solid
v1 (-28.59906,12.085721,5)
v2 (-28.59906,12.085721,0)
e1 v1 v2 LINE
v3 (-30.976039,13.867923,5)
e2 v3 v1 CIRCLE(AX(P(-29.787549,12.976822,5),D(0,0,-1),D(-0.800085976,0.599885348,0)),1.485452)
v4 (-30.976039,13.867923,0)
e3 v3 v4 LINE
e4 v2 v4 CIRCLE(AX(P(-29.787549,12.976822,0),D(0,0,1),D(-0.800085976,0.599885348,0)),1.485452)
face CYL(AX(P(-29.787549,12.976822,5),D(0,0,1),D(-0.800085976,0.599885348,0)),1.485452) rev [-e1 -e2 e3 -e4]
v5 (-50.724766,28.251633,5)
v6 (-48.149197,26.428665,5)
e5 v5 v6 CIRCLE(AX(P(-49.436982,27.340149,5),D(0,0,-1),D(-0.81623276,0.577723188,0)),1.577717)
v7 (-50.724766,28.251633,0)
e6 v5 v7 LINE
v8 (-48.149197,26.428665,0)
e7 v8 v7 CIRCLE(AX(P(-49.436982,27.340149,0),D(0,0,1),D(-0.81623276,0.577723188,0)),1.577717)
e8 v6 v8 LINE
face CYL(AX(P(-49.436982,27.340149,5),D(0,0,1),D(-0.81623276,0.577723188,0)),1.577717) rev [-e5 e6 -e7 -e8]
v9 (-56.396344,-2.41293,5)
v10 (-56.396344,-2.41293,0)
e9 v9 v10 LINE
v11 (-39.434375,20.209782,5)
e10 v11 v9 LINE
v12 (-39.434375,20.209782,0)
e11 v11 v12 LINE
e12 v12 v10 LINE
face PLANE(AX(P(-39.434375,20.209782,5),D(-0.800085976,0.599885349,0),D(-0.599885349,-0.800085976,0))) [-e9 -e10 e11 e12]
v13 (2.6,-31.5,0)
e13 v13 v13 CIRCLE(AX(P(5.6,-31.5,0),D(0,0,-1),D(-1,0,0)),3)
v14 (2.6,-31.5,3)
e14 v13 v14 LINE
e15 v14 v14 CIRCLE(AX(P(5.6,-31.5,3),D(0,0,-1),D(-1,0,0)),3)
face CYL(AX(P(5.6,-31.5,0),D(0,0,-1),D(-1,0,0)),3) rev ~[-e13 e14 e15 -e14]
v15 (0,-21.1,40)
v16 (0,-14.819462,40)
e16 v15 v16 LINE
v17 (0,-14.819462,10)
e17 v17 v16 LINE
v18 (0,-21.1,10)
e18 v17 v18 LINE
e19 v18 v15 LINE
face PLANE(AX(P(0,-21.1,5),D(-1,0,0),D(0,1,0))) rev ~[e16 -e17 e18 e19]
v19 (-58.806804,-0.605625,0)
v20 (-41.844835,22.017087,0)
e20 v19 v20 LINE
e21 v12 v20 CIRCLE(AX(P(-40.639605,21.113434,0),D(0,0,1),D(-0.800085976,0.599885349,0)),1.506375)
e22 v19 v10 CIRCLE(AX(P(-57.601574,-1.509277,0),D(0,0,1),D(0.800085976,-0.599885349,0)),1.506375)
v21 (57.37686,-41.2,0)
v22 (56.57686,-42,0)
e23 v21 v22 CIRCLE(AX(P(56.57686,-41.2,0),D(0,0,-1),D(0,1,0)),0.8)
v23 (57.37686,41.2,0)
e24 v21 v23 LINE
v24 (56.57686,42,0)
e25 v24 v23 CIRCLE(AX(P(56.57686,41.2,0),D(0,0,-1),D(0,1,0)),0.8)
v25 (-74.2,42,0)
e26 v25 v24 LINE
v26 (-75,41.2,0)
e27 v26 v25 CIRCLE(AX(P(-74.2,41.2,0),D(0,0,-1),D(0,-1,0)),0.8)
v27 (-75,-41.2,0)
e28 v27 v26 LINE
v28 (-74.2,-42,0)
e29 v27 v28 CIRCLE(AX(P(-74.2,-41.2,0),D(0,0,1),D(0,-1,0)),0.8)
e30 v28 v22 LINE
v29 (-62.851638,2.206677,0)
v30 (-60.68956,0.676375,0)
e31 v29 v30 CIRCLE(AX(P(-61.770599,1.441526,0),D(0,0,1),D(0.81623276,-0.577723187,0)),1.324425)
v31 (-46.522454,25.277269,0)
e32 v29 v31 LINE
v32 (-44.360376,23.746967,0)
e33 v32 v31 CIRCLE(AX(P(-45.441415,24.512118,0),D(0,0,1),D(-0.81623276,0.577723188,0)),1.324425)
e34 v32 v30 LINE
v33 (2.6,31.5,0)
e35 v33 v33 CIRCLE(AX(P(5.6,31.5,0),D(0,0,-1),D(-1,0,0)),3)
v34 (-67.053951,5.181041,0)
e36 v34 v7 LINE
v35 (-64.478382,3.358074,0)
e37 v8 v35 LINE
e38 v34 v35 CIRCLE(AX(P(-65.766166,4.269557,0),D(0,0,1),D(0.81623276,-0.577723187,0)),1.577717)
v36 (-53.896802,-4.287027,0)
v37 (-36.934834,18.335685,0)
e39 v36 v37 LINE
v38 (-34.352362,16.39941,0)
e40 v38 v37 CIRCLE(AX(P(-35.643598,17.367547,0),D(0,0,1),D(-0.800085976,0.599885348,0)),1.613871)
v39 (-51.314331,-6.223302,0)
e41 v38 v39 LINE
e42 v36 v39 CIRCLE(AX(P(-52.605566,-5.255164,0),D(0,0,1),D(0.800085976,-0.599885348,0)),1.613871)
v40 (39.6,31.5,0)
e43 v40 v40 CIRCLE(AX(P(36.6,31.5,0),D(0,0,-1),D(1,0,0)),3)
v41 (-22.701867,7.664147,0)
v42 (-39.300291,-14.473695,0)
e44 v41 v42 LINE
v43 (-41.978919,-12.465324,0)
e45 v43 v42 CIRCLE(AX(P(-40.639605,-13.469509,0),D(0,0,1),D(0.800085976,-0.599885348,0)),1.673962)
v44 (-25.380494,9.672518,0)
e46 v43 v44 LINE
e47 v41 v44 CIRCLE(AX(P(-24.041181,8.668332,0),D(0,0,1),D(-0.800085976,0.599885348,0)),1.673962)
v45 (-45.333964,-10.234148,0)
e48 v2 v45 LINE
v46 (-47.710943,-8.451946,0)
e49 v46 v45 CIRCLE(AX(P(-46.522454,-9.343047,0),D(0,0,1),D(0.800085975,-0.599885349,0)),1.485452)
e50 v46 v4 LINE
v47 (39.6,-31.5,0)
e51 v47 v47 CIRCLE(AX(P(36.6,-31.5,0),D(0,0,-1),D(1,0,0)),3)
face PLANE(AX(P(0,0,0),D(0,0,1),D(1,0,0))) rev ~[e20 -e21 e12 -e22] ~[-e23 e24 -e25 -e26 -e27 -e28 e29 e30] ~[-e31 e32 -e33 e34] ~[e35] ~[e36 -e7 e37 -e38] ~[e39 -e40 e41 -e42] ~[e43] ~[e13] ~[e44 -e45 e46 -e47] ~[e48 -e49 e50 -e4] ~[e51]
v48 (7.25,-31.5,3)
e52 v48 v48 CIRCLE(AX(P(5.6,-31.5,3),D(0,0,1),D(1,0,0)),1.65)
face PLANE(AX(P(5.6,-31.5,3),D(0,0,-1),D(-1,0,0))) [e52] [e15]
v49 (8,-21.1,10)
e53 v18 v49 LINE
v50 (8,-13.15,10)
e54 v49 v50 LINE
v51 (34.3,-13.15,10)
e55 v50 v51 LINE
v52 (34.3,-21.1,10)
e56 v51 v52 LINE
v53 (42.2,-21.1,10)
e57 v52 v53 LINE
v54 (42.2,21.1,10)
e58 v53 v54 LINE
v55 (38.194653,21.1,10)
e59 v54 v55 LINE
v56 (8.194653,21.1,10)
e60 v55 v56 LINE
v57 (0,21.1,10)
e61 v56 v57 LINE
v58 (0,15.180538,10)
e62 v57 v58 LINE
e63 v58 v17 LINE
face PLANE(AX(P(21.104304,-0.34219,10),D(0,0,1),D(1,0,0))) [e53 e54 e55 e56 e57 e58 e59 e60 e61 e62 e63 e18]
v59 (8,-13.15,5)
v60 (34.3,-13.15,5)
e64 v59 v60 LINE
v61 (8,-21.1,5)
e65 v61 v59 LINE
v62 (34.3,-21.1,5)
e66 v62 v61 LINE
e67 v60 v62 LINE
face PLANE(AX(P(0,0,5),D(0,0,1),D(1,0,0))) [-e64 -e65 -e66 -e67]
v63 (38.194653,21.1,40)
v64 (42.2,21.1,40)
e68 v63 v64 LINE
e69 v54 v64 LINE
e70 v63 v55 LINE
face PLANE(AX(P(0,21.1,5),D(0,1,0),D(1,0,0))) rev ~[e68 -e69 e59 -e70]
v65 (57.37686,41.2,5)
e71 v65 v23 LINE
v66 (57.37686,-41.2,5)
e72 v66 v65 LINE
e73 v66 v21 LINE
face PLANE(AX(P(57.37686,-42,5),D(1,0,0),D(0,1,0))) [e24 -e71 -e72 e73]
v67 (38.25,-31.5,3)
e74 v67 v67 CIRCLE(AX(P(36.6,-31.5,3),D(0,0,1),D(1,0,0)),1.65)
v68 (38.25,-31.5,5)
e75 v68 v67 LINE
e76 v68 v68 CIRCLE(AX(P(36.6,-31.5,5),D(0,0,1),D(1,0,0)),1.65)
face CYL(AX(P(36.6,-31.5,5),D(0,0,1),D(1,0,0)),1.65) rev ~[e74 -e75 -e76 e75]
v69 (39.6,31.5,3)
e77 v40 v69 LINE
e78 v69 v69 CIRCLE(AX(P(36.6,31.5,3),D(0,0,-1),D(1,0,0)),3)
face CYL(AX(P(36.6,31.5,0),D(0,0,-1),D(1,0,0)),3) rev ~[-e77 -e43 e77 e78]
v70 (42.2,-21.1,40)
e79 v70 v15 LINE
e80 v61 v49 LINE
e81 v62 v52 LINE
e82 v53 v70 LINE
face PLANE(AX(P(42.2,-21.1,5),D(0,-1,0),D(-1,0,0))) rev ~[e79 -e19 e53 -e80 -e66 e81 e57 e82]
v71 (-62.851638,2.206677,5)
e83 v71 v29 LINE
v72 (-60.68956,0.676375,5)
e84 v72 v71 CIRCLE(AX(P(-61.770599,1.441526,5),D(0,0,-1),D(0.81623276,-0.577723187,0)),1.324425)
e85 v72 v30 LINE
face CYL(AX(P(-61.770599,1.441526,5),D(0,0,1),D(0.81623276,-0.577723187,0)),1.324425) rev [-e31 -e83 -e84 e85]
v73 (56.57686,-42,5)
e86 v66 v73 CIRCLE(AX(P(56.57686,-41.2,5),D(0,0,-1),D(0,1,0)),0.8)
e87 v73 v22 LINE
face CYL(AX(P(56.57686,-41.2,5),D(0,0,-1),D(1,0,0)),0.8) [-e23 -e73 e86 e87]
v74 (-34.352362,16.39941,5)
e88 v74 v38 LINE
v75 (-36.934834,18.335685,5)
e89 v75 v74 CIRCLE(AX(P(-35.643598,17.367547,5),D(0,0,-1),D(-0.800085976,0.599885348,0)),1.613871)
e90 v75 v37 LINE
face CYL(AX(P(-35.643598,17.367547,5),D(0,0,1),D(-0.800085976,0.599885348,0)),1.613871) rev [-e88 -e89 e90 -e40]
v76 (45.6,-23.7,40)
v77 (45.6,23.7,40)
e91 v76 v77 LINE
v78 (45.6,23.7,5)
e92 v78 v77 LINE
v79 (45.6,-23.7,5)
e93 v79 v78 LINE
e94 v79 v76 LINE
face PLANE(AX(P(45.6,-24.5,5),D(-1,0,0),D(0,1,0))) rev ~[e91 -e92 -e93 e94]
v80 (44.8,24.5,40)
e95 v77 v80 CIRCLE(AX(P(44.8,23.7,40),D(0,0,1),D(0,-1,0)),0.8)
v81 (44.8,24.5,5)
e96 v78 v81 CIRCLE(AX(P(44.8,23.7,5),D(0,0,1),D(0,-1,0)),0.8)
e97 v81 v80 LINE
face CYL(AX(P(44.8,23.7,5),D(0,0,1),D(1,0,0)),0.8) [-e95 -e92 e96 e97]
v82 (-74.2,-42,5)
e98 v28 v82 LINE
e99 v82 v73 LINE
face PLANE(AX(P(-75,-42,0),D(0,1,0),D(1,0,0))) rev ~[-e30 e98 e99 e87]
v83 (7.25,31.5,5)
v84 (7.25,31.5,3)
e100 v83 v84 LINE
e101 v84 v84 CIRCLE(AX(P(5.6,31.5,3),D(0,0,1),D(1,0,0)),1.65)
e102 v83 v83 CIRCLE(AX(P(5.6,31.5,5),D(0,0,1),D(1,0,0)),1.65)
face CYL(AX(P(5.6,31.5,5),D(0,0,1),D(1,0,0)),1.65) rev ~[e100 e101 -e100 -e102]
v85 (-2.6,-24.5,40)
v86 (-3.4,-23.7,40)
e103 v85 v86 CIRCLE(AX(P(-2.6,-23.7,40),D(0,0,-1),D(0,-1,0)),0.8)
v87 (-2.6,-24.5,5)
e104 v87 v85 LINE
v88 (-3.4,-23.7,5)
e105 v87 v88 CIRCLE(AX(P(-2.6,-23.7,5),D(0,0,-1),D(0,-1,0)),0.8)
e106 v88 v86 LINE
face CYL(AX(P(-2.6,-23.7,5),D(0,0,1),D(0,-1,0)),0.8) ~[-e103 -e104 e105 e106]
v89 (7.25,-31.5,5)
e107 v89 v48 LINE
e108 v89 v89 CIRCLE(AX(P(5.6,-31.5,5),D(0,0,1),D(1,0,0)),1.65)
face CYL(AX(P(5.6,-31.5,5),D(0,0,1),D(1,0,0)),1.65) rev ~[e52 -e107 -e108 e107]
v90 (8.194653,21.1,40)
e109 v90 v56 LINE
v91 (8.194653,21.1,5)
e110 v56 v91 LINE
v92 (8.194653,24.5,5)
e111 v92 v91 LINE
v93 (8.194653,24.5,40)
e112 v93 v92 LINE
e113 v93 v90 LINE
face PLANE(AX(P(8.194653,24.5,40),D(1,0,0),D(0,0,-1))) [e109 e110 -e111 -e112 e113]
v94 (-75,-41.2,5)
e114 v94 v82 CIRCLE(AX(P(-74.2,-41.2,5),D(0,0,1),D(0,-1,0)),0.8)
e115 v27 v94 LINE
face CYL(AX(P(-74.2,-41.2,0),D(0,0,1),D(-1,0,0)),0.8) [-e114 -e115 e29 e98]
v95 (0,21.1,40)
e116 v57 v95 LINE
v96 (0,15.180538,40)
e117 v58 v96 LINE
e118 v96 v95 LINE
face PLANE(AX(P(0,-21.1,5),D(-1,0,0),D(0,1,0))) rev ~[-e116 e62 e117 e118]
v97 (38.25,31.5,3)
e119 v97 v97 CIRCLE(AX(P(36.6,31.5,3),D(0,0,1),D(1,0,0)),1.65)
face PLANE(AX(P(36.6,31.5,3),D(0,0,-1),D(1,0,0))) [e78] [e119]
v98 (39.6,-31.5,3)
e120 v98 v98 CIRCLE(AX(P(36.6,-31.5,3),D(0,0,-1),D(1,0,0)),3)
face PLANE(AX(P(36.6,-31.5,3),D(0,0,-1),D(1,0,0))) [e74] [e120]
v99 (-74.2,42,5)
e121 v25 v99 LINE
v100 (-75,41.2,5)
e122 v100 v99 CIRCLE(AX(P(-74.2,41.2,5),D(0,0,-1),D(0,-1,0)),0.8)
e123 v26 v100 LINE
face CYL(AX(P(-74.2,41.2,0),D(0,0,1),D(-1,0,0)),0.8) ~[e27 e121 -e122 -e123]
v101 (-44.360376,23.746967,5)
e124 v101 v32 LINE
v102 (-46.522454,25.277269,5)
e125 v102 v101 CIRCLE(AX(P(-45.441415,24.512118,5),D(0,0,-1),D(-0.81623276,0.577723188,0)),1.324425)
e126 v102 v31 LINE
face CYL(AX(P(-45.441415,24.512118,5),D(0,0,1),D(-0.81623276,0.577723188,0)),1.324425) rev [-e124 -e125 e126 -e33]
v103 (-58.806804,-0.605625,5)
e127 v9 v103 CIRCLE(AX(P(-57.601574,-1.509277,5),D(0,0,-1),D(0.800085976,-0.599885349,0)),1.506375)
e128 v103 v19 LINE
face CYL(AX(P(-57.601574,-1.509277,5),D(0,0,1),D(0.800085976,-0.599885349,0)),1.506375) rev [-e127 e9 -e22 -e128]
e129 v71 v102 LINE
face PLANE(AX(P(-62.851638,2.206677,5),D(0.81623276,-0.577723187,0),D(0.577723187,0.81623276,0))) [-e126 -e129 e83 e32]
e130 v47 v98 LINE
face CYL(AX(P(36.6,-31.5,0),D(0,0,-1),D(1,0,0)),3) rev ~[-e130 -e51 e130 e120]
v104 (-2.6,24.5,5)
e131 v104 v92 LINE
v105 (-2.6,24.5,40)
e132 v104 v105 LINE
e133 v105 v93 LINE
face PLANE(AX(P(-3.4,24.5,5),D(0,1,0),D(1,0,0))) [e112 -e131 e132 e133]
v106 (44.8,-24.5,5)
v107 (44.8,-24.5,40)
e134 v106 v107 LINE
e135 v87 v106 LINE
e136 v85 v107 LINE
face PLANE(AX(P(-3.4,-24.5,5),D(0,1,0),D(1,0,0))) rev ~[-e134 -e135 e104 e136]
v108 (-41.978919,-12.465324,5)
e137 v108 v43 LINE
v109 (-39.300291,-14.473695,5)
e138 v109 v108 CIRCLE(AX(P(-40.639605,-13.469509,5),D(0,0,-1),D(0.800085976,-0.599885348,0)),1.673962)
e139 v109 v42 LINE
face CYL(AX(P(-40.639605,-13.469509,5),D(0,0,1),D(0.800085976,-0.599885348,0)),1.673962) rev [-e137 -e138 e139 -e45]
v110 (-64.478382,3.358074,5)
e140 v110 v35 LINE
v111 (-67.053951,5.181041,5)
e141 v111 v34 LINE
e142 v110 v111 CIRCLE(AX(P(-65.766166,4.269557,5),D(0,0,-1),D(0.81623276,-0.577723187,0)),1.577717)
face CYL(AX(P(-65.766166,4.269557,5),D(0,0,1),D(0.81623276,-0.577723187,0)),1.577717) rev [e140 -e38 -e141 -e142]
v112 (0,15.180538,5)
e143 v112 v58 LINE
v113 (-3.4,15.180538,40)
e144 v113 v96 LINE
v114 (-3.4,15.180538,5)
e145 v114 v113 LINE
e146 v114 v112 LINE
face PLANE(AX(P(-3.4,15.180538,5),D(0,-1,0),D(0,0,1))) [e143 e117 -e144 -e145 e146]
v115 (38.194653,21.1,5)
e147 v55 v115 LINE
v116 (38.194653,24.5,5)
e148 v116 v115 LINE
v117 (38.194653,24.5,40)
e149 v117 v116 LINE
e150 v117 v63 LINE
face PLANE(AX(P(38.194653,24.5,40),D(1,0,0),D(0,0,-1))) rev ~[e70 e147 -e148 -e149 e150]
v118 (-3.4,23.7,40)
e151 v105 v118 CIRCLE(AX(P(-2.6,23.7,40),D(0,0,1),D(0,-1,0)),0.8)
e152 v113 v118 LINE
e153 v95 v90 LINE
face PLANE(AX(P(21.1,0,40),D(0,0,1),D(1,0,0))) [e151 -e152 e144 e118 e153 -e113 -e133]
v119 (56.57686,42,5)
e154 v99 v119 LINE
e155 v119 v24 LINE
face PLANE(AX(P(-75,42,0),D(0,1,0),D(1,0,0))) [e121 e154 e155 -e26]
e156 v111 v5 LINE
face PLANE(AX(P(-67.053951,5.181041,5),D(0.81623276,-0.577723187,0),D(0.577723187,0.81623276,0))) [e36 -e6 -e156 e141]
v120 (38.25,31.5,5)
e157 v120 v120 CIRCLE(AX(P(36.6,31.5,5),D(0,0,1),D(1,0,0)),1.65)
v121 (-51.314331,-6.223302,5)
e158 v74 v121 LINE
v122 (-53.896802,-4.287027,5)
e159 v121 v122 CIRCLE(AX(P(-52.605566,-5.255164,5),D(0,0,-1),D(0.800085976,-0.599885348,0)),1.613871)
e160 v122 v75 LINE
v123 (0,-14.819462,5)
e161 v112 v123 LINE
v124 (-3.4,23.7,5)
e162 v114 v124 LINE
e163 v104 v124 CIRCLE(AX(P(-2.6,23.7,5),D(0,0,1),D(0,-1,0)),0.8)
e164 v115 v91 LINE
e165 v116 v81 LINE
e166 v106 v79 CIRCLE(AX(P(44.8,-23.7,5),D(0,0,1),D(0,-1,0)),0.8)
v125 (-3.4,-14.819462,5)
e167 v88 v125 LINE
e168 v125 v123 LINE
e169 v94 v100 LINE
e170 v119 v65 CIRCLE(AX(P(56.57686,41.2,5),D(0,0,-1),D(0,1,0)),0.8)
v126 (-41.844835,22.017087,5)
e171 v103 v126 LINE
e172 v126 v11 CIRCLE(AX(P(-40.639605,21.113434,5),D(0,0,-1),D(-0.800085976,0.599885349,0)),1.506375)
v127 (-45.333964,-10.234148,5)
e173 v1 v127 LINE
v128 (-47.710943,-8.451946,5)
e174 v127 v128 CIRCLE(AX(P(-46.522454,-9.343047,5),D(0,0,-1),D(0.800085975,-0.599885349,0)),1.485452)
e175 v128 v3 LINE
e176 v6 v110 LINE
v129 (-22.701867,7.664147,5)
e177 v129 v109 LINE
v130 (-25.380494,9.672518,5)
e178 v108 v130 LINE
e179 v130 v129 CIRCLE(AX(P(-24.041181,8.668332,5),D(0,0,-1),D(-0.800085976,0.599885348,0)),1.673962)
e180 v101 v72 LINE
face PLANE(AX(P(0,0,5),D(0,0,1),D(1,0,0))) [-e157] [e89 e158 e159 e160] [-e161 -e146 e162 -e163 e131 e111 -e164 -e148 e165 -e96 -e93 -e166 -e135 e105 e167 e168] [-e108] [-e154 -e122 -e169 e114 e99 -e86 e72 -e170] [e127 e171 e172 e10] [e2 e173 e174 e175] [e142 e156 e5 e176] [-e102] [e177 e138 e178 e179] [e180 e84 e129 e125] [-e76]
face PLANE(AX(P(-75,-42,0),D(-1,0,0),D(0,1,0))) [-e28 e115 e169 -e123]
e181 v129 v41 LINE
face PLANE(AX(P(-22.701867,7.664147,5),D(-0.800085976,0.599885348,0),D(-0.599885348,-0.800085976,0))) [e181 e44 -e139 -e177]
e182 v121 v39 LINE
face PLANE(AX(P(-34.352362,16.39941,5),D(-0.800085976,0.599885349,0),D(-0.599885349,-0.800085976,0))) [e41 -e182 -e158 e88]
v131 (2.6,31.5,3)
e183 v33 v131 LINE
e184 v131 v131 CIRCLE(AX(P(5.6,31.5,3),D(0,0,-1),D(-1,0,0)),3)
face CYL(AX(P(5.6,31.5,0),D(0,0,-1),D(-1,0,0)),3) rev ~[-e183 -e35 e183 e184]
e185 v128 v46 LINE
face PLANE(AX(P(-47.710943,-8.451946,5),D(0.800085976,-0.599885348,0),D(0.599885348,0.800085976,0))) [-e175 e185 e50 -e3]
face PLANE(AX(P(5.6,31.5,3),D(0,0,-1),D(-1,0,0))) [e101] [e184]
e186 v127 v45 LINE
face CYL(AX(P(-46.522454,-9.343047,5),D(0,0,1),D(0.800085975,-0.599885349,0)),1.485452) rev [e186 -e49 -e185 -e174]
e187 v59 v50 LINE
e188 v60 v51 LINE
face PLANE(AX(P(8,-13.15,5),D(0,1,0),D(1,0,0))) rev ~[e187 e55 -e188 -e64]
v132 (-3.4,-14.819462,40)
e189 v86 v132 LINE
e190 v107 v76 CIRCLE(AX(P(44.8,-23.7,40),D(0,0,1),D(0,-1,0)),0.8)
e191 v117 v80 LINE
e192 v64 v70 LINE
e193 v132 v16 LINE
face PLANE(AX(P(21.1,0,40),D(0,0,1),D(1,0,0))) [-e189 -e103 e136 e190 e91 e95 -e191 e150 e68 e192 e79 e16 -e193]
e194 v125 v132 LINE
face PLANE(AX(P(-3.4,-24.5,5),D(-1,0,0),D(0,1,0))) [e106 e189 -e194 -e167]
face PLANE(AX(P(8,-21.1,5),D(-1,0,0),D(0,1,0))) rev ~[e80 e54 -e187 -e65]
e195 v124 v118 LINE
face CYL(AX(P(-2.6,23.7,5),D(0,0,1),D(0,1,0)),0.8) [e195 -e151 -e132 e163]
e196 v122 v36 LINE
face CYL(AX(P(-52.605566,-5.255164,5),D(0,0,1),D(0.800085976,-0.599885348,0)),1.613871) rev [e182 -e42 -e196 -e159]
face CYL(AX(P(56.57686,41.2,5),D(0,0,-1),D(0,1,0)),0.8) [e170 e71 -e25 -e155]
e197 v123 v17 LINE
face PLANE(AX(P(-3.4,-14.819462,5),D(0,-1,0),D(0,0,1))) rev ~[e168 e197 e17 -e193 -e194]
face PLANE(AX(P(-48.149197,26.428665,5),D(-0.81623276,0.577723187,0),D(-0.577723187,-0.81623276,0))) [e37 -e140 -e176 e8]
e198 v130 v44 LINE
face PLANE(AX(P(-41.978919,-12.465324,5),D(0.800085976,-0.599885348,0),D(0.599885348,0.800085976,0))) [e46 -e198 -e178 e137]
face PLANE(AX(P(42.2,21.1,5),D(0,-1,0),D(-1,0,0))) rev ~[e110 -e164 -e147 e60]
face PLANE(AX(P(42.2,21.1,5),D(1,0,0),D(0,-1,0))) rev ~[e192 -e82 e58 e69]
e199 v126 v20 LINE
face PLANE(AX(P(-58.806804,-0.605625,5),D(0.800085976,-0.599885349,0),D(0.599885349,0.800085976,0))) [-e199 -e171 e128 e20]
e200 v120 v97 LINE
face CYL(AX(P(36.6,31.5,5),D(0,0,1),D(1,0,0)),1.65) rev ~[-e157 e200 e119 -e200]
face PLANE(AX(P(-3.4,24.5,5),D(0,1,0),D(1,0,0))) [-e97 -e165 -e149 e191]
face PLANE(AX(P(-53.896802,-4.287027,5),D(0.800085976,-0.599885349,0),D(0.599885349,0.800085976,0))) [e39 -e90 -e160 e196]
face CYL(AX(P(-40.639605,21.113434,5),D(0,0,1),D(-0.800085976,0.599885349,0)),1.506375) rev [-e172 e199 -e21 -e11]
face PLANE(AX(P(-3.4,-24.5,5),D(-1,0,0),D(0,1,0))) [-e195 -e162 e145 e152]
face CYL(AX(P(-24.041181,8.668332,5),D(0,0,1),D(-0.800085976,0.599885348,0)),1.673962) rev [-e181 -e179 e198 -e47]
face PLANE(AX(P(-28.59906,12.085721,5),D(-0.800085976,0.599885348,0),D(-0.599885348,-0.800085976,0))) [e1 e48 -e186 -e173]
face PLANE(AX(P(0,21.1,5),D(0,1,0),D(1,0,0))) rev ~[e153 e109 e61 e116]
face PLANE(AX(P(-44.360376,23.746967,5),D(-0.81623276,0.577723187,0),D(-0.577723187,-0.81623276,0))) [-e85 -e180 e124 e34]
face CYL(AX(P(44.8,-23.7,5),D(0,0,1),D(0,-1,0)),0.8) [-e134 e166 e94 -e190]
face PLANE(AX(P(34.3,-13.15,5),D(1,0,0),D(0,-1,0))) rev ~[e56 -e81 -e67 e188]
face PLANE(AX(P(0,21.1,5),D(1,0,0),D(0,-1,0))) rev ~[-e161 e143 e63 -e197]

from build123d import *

# Parameters (mm, degrees)
SKETCH_1_W          = 150
SKETCH_1_H          = 84
EXTRUDE_1_DEPTH     = 5
SKETCH_2_W          = 49
SKETCH_2_H          = 49
EXTRUDE_2_DEPTH     = 35
SKETCH_3_W          = 35
SKETCH_3_H          = 30
CUT_EXTRUDE_1_DEPTH = 21
SKETCH_4_W          = 30
SKETCH_4_H          = 35
CUT_EXTRUDE_2_DEPTH = 21
FILLET_1_R          = 0.8
CUT_EXTRUDE_3_DEPTH = 21
SKETCH_6_W          = 27.415053397
SKETCH_6_H          = 84
CUT_EXTRUDE_4_DEPTH = 21
FILLET_2_R          = 0.8
EXTRUDE_5_DEPTH     = 5
SKETCH_12_R         = 1.65
CUT_EXTRUDE_5_DEPTH = 10
SKETCH_13_R         = 3
CUT_EXTRUDE_6_DEPTH = 3


with BuildPart() as part:
    # 草图1 → 凸台-拉伸1 (new body)
    with BuildSketch(Plane.XY):
        Rectangle(SKETCH_1_W, SKETCH_1_H)
    extrude(amount=EXTRUDE_1_DEPTH)

    # 草图2 → 凸台-拉伸2 (add)
    with BuildSketch(Plane.XY.offset(5)):
        with Locations((21.1, 0)):
            Rectangle(SKETCH_2_W, SKETCH_2_H)
        Polygon((0, 0), (0, 21.1), (42.2, 21.1), (42.2, -21.1), (0, -21.1), align=None, mode=Mode.SUBTRACT)
    extrude(amount=EXTRUDE_2_DEPTH)

    # 草图3 → 切除-拉伸1 (cut)
    with BuildSketch(Plane.ZY.offset(3.4)):
        with Locations((22.5, 0.18053777)):
            Rectangle(SKETCH_3_W, SKETCH_3_H)
    extrude(amount=-CUT_EXTRUDE_1_DEPTH, mode=Mode.SUBTRACT)

    # 草图4 → 切除-拉伸2 (cut)
    with BuildSketch(Plane(origin=(0, 24.5, 0), x_dir=(1, 0, 0), z_dir=(0, 1, 0))):
        with Locations((23.194652979, -22.5)):
            Rectangle(SKETCH_4_W, SKETCH_4_H)
    extrude(amount=-CUT_EXTRUDE_2_DEPTH, mode=Mode.SUBTRACT)

    # 圆角1
    fillet_1_edges = [part.edges().sort_by_distance(p)[0] for p in [
        (45.6, -24.5, 22.5),
        (45.6, 24.5, 22.5),
        (-3.4, 24.5, 22.5),
        (-3.4, -24.5, 22.5),
        (75, -42, 2.5),
        (-75, -42, 2.5),
        (-75, 42, 2.5),
        (75, 42, 2.5),
    ]]
    fillet(fillet_1_edges, radius=FILLET_1_R)

    # 草图5 → 切除-拉伸3 (cut)
    with BuildSketch(Plane.XY.offset(5)):
        with BuildLine():
            Line((-48.149197029, 26.428665041), (-64.478381839, 3.358073657))
            ThreePointArc((-64.478381839, 3.358073657), (-66.677650185, 2.98177299), (-67.053950852, 5.181041335))
            Line((-67.053950852, 5.181041335), (-50.724766042, 28.251632719))
            ThreePointArc((-50.724766042, 28.251632719), (-48.525497697, 28.627933386), (-48.149197029, 26.428665041))
        make_face()
        with BuildLine():
            Line((-44.360375577, 23.74696674), (-60.689560387, 0.676375357))
            ThreePointArc((-60.689560387, 0.676375357), (-62.535750423, 0.360487328), (-62.851638452, 2.206677363))
            Line((-62.851638452, 2.206677363), (-46.522453641, 25.277268747))
            ThreePointArc((-46.522453641, 25.277268747), (-44.676263606, 25.593156775), (-44.360375577, 23.74696674))
        make_face()
        with BuildLine():
            Line((-39.434375371, 20.209781933), (-56.396344169, -2.412929875))
            ThreePointArc((-56.396344169, -2.412929875), (-58.505226428, -2.71450716), (-58.806803713, -0.605624901))
            Line((-58.806803713, -0.605624901), (-41.844834915, 22.017086907))
            ThreePointArc((-41.844834915, 22.017086907), (-39.735952656, 22.318664192), (-39.434375371, 20.209781933))
        make_face()
        with BuildLine():
            Line((-34.352361813, 16.39940959), (-51.314330611, -6.223302218))
            ThreePointArc((-51.314330611, -6.223302218), (-53.573704294, -6.546400285), (-53.896802361, -4.287026602))
            Line((-53.896802361, -4.287026602), (-36.934833563, 18.335685206))
            ThreePointArc((-36.934833563, 18.335685206), (-34.67545988, 18.658783273), (-34.352361813, 16.39940959))
        make_face()
        with BuildLine():
            Line((-28.599059516, 12.085720989), (-45.333964099, -10.234148128))
            ThreePointArc((-45.333964099, -10.234148128), (-47.413554704, -10.531536607), (-47.710943184, -8.451946002))
            Line((-47.710943184, -8.451946002), (-30.976038601, 13.867923114))
            ThreePointArc((-30.976038601, 13.867923114), (-28.896447996, 14.165311594), (-28.599059516, 12.085720989))
        make_face()
        with BuildLine():
            Line((-22.701866689, 7.664146707), (-39.300291247, -14.473694703))
            ThreePointArc((-39.300291247, -14.473694703), (-41.643790703, -14.80882304), (-41.97891904, -12.465323584))
            Line((-41.97891904, -12.465323584), (-25.380494482, 9.672517826))
            ThreePointArc((-25.380494482, 9.672517826), (-23.036995026, 10.007646163), (-22.701866689, 7.664146707))
        make_face()
    extrude(amount=-CUT_EXTRUDE_3_DEPTH, mode=Mode.SUBTRACT)

    # 草图6 → 切除-拉伸4 (cut)
    with BuildSketch(Plane.XY.offset(5)):
        with Locations((71.084387087, 0)):
            Rectangle(SKETCH_6_W, SKETCH_6_H)
    extrude(amount=-CUT_EXTRUDE_4_DEPTH, mode=Mode.SUBTRACT)

    # 圆角2
    fillet_2_edges = [part.edges().sort_by_distance(p)[0] for p in [
        (57.376860388, -42, 2.5),
        (57.376860388, 42, 2.5),
    ]]
    fillet(fillet_2_edges, radius=FILLET_2_R)

    # 草图10 → 凸台-拉伸5 (add)
    with BuildSketch(Plane.XY.offset(5)):
        Polygon((0, 21.1), (0, -21.1), (8, -21.1), (8, -13.15), (34.3, -13.15), (34.3, -21.1), (42.2, -21.1), (42.2, 21.1), align=None)
    extrude(amount=EXTRUDE_5_DEPTH)

    # 草图12 → 切除-拉伸5 (cut)
    with BuildSketch(Plane.XY.offset(5)):
        with Locations((5.6, -31.5)):
            Circle(SKETCH_12_R)
        with Locations((5.6, 31.5)):
            Circle(SKETCH_12_R)
        with Locations((36.6, -31.5)):
            Circle(SKETCH_12_R)
        with Locations((36.6, 31.5)):
            Circle(SKETCH_12_R)
    extrude(amount=-CUT_EXTRUDE_5_DEPTH, mode=Mode.SUBTRACT)

    # 草图13 → 切除-拉伸6 (cut)
    with BuildSketch(Plane(origin=(0, 0, 0), x_dir=(-1, 0, 0), z_dir=(0, 0, -1))):
        with Locations((-5.6, 31.5)):
            Circle(SKETCH_13_R)
        with Locations((-5.6, -31.5)):
            Circle(SKETCH_13_R)
        with Locations(Location((-36.6, -31.5, 0), (0, 0, 180))):
            Circle(SKETCH_13_R)
        with Locations(Location((-36.6, 31.5, 0), (0, 0, 180))):
            Circle(SKETCH_13_R)
    extrude(amount=-CUT_EXTRUDE_6_DEPTH, mode=Mode.SUBTRACT)


solid = part.part
